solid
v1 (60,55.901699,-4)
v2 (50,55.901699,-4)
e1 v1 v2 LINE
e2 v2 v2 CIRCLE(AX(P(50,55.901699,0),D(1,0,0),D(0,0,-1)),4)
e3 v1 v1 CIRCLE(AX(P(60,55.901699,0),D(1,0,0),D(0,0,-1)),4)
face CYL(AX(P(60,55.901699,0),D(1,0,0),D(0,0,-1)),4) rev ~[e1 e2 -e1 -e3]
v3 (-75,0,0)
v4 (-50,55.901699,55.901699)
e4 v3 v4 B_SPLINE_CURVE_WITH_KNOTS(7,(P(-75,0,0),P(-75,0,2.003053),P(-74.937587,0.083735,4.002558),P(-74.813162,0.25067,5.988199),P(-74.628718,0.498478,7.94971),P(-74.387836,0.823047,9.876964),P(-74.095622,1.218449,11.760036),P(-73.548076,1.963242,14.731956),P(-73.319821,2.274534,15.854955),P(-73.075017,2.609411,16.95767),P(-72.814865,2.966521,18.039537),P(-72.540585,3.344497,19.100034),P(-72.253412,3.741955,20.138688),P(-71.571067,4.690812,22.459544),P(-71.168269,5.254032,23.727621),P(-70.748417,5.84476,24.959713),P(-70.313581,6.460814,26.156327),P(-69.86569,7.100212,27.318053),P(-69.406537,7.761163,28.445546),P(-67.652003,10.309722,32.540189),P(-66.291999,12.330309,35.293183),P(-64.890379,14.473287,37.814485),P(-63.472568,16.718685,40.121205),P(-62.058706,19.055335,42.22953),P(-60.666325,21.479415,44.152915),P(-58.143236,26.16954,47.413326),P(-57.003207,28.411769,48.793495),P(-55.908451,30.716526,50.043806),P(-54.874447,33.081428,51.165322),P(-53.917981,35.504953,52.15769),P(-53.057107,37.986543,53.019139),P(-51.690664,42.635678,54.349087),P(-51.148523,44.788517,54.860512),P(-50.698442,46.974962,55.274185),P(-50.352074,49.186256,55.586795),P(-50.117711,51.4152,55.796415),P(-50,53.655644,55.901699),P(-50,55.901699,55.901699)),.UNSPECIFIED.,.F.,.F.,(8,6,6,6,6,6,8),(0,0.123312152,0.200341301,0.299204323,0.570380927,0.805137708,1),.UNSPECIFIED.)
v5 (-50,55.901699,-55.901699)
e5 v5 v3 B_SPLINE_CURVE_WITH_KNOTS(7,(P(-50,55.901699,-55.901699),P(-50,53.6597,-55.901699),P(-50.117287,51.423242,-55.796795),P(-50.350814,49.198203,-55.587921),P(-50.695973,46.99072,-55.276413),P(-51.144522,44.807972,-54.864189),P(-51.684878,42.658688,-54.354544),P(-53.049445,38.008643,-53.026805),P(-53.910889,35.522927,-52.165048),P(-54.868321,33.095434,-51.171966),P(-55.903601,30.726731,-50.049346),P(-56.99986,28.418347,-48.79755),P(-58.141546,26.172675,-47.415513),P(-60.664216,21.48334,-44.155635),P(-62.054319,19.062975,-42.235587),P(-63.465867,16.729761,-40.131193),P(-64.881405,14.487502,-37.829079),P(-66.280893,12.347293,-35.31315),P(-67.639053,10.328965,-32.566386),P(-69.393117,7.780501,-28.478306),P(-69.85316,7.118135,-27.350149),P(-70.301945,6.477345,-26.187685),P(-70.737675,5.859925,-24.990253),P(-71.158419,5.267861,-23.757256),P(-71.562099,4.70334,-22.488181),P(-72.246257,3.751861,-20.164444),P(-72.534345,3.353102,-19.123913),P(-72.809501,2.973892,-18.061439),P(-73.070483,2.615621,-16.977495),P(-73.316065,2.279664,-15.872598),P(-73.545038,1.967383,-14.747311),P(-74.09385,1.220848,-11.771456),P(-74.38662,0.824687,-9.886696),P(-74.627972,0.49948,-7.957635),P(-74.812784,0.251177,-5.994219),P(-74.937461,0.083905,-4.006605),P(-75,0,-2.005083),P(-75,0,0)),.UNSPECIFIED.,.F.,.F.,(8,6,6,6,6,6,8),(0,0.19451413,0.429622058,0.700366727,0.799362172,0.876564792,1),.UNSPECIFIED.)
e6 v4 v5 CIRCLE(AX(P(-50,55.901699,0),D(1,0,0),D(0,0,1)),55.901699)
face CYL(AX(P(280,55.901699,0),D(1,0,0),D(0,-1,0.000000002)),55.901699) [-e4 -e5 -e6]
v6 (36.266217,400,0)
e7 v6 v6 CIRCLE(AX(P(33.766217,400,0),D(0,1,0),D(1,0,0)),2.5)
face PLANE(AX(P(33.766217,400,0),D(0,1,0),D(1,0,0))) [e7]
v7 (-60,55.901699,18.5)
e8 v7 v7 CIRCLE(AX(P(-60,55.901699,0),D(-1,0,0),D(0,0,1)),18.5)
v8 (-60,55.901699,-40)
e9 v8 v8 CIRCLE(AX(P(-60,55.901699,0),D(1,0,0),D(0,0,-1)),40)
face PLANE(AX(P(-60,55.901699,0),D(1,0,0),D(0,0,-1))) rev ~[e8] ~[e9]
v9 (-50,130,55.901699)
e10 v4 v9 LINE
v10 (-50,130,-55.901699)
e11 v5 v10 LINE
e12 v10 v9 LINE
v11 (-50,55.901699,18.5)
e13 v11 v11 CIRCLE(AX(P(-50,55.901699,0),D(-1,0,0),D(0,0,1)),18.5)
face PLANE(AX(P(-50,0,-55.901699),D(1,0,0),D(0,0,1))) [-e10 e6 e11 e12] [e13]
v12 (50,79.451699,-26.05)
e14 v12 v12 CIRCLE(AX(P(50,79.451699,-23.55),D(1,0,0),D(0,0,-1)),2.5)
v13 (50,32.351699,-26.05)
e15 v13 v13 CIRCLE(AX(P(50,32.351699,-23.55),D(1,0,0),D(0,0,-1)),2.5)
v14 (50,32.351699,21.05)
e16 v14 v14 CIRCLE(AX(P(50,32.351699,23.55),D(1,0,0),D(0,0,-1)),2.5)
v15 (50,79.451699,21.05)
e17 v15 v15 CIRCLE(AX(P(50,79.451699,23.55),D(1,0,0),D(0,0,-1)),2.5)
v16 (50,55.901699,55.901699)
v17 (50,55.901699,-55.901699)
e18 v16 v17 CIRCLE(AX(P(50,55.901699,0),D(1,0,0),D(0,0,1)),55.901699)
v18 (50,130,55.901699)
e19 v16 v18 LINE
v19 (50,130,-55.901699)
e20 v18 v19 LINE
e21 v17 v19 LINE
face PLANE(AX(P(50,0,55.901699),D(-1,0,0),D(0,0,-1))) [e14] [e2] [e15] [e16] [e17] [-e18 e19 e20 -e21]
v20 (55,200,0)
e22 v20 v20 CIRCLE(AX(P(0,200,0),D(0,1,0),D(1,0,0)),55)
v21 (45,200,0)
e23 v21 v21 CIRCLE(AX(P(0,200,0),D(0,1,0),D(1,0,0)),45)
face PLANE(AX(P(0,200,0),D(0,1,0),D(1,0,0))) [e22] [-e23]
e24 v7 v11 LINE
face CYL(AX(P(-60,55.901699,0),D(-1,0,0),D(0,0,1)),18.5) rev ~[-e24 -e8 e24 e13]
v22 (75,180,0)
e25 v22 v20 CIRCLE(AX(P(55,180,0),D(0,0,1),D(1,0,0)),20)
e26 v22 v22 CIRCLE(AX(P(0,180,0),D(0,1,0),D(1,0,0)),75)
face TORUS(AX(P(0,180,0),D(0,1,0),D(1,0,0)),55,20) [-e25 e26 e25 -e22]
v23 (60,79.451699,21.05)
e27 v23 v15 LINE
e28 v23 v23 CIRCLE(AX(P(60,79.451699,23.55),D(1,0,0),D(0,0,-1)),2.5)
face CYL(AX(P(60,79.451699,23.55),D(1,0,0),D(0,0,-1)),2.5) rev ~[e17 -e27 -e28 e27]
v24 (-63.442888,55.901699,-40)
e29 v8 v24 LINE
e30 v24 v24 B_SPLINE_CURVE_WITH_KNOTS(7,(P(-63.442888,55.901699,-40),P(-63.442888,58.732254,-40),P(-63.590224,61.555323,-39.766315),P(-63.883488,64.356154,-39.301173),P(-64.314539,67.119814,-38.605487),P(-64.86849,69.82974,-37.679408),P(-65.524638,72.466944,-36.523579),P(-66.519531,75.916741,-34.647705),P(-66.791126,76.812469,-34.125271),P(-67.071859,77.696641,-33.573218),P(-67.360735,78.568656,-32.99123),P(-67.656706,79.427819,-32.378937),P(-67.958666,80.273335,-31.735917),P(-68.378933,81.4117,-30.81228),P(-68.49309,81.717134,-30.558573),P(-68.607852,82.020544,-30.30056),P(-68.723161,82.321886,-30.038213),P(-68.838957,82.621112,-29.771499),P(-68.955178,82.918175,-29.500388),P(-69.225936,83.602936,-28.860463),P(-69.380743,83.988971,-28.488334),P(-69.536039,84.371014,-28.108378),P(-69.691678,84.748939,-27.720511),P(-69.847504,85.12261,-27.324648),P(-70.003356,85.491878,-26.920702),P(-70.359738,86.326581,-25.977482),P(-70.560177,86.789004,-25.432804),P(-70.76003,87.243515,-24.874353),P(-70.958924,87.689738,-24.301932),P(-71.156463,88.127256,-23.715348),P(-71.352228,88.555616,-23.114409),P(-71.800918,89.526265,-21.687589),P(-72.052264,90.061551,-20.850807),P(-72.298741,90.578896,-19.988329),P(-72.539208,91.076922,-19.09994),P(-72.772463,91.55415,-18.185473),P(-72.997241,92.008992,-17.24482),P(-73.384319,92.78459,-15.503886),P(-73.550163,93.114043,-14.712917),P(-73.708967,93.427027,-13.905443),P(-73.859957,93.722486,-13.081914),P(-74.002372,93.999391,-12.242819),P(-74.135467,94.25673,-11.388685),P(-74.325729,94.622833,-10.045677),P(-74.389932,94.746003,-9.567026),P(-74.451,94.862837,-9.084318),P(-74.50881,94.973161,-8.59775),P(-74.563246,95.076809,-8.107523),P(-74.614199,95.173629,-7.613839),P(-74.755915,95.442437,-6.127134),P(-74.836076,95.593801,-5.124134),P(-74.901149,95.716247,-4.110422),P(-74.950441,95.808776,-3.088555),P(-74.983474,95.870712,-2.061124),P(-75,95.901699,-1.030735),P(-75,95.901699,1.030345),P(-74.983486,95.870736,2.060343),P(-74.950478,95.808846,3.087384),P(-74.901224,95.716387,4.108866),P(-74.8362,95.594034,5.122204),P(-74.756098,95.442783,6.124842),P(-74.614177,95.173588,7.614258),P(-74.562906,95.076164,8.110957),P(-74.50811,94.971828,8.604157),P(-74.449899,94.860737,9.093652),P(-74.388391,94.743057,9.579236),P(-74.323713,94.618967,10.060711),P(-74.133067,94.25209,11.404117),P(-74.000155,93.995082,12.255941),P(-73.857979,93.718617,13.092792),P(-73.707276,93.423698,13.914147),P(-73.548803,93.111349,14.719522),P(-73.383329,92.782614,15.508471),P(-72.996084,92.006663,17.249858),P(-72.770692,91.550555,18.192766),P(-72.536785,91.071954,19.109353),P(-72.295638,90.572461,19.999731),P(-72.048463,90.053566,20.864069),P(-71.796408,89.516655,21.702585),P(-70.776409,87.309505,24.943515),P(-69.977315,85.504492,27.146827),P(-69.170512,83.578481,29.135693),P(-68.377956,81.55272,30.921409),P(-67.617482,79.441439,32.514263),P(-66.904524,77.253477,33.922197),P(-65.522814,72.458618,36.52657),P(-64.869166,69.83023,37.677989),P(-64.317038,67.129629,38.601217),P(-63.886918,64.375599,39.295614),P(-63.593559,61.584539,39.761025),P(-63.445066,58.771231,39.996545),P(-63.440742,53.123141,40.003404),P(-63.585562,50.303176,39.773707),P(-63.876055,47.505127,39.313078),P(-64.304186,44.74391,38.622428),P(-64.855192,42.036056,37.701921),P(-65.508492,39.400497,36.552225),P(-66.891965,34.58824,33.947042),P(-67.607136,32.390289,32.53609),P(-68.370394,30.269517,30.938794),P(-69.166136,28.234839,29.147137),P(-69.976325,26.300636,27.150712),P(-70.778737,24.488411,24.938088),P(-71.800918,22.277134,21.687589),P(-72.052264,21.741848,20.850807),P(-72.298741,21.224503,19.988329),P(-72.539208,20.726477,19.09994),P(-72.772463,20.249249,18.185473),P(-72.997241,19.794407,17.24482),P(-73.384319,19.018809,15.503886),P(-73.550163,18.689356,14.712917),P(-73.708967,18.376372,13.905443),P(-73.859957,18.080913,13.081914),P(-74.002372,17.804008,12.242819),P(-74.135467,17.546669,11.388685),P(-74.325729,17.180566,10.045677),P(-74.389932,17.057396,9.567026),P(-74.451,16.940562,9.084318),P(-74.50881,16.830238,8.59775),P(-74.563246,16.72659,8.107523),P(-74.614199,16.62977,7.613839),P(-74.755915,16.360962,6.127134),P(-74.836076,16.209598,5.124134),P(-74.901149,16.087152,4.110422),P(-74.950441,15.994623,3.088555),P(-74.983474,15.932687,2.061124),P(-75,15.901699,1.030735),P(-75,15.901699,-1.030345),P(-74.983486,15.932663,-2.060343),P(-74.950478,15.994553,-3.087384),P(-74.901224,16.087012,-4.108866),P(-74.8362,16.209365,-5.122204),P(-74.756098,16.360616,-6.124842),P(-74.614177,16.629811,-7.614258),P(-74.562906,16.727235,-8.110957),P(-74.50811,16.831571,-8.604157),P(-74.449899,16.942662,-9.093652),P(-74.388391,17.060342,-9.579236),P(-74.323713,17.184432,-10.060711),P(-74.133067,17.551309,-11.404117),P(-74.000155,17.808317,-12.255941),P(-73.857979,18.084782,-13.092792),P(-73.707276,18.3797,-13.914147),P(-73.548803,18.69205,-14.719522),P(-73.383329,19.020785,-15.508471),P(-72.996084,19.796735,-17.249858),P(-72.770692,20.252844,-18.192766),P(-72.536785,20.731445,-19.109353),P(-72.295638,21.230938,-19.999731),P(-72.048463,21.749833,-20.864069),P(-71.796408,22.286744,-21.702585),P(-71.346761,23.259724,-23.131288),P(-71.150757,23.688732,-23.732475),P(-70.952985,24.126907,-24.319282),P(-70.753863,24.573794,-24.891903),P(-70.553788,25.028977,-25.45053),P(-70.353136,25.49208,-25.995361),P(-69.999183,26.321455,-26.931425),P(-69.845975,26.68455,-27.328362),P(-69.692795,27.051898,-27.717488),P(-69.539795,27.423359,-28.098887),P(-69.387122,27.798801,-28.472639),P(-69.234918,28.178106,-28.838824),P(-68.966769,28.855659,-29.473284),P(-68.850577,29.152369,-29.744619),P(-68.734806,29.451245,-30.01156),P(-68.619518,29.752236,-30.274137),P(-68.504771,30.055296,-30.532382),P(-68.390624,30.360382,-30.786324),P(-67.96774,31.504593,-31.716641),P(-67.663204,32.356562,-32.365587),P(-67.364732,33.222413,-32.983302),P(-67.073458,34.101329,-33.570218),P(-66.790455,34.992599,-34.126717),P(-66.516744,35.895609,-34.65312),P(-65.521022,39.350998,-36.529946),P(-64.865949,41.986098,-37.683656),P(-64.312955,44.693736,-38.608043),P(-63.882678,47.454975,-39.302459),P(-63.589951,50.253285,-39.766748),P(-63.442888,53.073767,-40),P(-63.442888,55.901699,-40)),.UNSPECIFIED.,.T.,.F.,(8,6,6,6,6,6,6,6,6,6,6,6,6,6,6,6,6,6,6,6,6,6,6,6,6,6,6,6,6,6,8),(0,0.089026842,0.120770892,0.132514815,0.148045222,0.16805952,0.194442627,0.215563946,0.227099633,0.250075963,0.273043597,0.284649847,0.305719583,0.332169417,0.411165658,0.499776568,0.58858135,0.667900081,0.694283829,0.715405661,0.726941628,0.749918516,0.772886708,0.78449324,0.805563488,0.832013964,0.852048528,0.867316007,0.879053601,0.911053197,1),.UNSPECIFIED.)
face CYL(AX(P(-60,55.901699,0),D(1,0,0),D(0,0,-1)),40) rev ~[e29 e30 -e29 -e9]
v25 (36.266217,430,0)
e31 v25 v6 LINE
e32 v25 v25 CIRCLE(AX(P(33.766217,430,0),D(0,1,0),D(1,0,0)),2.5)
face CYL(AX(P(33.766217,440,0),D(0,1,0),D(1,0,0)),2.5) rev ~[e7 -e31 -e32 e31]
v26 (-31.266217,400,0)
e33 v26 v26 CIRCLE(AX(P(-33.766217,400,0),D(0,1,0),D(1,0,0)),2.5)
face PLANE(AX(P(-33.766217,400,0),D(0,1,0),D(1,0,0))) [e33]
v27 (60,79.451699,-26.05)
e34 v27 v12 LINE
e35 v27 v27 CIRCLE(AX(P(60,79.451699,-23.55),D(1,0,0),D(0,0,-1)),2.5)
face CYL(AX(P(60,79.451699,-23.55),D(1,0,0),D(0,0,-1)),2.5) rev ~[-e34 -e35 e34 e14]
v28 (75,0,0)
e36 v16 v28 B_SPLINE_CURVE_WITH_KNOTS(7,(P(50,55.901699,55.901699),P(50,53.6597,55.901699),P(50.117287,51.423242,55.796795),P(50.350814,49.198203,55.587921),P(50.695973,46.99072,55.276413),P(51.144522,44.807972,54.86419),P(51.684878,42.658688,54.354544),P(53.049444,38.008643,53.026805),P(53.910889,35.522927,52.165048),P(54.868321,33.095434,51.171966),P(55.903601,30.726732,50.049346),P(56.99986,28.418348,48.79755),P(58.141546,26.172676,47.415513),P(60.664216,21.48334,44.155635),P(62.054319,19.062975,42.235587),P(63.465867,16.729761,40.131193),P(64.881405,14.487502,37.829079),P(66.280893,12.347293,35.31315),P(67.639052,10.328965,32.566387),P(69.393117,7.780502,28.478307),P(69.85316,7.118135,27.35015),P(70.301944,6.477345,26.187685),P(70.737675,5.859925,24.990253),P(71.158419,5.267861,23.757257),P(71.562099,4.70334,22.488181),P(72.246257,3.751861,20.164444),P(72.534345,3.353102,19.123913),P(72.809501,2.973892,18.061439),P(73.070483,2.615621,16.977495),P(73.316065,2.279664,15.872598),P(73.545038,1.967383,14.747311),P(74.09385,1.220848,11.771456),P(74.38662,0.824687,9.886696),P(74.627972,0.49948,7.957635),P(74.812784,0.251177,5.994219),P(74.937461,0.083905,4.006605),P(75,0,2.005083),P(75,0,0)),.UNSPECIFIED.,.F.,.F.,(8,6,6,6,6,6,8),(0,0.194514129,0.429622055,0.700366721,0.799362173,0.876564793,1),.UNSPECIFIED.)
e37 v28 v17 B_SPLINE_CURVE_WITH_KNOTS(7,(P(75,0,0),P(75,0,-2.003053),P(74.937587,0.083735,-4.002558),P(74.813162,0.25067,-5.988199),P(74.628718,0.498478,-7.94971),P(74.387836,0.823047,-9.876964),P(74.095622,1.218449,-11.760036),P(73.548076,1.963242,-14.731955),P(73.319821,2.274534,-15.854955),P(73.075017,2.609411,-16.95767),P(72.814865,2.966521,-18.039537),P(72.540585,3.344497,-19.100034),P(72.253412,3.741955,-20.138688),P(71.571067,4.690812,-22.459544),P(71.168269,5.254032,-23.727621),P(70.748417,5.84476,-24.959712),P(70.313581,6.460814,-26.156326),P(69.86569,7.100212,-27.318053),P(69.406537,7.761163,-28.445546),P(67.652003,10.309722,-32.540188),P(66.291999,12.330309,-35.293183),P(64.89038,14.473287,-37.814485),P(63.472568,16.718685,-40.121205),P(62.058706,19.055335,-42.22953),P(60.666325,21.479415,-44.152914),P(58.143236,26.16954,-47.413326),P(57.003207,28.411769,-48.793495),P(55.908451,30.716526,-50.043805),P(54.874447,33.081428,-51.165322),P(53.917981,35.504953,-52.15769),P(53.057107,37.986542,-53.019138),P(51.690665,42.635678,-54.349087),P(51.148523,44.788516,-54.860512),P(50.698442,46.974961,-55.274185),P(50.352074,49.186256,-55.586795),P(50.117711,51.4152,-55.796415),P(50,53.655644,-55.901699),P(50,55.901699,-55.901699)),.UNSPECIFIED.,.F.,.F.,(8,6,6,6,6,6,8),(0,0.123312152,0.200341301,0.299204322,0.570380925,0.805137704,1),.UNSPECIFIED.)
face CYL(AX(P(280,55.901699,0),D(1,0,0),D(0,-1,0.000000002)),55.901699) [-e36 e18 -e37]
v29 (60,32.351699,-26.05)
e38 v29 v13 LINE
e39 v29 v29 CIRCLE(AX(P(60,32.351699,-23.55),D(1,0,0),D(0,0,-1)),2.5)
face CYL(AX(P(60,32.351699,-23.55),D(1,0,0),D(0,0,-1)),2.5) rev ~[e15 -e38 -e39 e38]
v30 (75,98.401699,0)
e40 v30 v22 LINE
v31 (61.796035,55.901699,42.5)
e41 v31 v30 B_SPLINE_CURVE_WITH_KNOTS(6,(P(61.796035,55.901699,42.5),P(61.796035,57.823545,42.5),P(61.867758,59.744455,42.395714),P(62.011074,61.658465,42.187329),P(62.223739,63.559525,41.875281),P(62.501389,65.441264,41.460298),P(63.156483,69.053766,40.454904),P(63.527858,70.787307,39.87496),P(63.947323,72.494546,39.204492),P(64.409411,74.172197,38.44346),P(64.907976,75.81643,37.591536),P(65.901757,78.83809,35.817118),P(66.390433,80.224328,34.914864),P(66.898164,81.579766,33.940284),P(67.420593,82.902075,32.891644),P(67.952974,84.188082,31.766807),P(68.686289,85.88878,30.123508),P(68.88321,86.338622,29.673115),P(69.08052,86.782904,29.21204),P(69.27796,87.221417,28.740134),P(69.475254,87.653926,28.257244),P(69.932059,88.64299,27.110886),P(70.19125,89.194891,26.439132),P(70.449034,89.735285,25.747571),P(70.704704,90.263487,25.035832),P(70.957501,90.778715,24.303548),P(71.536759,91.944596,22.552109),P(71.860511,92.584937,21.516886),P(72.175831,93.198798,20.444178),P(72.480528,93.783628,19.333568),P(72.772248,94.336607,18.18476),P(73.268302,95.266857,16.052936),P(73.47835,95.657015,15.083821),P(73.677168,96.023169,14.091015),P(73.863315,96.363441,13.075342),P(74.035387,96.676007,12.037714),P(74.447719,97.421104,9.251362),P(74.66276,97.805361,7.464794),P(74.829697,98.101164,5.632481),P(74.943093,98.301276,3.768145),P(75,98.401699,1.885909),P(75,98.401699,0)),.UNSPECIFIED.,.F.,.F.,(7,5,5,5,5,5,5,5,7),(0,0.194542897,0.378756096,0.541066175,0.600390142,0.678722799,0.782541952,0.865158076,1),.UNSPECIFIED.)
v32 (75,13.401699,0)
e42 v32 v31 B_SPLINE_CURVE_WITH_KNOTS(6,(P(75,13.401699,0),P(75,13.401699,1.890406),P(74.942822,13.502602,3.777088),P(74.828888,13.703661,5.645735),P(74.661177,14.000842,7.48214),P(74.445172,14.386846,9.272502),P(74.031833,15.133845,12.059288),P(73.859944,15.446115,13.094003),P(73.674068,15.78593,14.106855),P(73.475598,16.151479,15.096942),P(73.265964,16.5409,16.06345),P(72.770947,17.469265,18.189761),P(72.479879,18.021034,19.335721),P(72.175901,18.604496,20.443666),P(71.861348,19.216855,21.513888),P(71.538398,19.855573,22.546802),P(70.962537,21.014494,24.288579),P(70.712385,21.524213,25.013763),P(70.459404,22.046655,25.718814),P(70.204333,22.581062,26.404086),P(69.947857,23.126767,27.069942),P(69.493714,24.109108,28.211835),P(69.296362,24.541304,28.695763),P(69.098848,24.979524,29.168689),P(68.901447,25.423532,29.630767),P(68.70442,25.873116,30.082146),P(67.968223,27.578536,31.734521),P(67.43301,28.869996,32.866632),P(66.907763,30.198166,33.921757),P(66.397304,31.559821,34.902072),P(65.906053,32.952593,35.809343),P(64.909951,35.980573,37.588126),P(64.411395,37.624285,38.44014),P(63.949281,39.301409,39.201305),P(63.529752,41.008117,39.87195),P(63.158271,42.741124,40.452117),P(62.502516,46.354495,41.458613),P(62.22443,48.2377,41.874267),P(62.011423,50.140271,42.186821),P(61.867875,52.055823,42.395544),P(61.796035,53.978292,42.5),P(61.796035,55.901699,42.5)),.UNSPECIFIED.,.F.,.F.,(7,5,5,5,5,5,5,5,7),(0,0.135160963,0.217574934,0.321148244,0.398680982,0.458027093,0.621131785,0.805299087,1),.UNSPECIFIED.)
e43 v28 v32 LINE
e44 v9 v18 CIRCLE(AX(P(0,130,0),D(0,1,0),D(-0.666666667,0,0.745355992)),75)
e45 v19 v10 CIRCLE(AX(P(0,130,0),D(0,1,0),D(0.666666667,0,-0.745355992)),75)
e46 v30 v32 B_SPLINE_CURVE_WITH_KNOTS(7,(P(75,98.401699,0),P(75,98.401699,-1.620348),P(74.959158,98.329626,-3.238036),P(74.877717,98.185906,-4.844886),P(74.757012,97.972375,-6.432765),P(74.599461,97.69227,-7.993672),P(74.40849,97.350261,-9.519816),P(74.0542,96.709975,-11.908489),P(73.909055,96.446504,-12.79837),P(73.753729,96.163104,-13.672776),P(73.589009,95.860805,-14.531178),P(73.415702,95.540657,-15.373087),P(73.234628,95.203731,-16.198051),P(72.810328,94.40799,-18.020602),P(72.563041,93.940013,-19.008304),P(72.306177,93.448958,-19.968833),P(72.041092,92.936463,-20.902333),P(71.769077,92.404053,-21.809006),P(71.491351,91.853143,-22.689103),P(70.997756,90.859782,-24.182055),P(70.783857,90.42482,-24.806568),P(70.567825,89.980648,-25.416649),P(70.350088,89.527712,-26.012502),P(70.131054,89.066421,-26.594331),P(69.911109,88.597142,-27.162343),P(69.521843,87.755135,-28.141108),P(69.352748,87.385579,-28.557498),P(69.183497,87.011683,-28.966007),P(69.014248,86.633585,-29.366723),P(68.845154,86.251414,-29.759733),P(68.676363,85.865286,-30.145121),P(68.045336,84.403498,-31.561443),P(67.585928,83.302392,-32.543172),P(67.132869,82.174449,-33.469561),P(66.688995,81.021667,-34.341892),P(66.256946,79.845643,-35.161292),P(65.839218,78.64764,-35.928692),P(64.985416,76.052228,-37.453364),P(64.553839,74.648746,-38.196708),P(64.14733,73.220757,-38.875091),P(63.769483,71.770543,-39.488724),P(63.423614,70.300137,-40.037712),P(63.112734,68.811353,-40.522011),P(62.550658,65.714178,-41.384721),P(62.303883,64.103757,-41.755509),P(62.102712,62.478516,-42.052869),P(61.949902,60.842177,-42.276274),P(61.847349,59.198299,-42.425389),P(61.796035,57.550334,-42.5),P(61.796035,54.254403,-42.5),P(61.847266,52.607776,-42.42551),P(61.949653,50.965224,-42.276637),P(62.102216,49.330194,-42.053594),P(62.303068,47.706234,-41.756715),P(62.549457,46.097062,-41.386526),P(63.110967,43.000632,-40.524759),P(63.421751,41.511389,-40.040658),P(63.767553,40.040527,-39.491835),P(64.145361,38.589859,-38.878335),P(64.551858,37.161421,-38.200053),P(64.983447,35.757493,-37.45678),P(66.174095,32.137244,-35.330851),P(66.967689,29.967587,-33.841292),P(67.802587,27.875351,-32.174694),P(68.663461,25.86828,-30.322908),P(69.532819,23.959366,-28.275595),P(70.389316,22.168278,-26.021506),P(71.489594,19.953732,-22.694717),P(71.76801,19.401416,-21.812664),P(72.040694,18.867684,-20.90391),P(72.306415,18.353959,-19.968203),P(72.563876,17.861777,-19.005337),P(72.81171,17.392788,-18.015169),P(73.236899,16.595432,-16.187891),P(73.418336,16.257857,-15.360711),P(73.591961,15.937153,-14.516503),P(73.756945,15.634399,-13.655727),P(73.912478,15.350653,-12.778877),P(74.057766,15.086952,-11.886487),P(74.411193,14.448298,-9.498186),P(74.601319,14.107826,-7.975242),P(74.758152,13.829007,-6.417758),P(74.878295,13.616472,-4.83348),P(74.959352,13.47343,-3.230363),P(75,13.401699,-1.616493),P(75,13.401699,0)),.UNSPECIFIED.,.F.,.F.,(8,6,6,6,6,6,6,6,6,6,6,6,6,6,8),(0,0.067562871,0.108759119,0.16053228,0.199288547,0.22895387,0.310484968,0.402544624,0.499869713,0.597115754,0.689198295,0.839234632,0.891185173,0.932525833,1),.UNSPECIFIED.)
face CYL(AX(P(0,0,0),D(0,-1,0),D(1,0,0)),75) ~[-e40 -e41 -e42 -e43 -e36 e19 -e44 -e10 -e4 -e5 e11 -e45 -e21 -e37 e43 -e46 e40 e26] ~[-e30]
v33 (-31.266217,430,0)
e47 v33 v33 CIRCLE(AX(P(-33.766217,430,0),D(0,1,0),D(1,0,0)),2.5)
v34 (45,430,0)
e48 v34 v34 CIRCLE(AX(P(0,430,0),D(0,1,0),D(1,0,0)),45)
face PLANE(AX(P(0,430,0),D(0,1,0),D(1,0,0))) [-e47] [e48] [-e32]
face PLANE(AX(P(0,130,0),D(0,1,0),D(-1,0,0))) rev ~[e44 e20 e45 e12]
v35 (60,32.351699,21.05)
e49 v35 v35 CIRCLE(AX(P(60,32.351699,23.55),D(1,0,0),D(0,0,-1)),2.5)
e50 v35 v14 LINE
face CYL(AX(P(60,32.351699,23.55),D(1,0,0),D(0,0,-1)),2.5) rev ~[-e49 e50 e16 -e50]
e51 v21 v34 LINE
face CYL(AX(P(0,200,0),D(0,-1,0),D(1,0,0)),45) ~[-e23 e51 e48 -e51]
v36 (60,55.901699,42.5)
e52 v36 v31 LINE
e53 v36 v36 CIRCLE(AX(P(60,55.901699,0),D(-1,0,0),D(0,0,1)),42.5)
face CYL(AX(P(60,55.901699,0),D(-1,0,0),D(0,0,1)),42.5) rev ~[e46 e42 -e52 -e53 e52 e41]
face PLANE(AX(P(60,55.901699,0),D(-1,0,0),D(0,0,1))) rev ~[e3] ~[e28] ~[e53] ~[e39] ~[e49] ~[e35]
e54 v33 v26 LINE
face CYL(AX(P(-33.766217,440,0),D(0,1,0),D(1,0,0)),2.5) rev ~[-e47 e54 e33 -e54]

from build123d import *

# Parameters (mm, degrees)
SKETCH1_R               = 75
BOSS_EXTRUDE1_DEPTH     = 200
CUT_EXTRUDE1_DEPTH      = 130
SKETCH3_R               = 45
BOSS_EXTRUDE2_DEPTH     = 230
FILLET2_R               = 20
CUT_EXTRUDE2_DEPTH      = 230
CUT_EXTRUDE2_DEPTH_BACK = 230
CUT_EXTRUDE3_START      = -10
SKETCH5_R               = 42.5
CUT_EXTRUDE3_DEPTH      = 20
CUT_EXTRUDE4_START      = -10
SKETCH6_R               = 40
CUT_EXTRUDE4_DEPTH      = 20
SKETCH7_R               = 16
CUT_EXTRUDE5_DEPTH      = 20
SKETCH8_R               = 4
CUT_EXTRUDE6_DEPTH      = 20
SKETCH9_R               = 18.5
CUT_EXTRUDE7_DEPTH      = 40
SKETCH10_R              = 2.5
CUT_EXTRUDE8_DEPTH      = 40
SKETCH11_R              = 2.5
CUT_EXTRUDE9_DEPTH      = 40


with BuildPart() as part:
    # Sketch1 → Boss-Extrude1 (new body)
    with BuildSketch(Plane(origin=(0, 0, 0), x_dir=(1, 0, 0), z_dir=(0, 1, 0))):
        Circle(SKETCH1_R)
    extrude(amount=BOSS_EXTRUDE1_DEPTH)

    # Sketch2 → Cut-Extrude1 (cut)
    with BuildSketch(Plane.XZ):
        with BuildLine():
            Line((-50, -55.901699437), (-50, 55.901699437))
            ThreePointArc((-50, 55.901699437), (0, 75), (50, 55.901699437))
            Line((50, 55.901699437), (50, -55.901699437))
            ThreePointArc((50, -55.901699437), (0, -75), (-50, -55.901699437))
        make_face()
    extrude(amount=-CUT_EXTRUDE1_DEPTH, mode=Mode.SUBTRACT)

    # Sketch3 → Boss-Extrude2 (add)
    with BuildSketch(Plane(origin=(0, 200, 0), x_dir=(1, 0, 0), z_dir=(0, 1, 0))):
        Circle(SKETCH3_R)
    extrude(amount=BOSS_EXTRUDE2_DEPTH)

    # Fillet2
    fillet2_edges = [part.edges().sort_by_distance(p)[0] for p in [
        (-75, 200, 0),
    ]]
    fillet(fillet2_edges, radius=FILLET2_R)

    # Sketch4 → Cut-Extrude2 (cut, two sides: drawn at the far end of the back side and taken through both)
    with BuildSketch(Plane.ZY.offset(-50).offset(-CUT_EXTRUDE2_DEPTH_BACK)):
        with BuildLine():
            Line((-55.901699437, 55.901699437), (-55.901699437, 0))
            Line((-55.901699437, 0), (9.3e-08, 0))
            ThreePointArc((9.3e-08, 0), (-39.528470719, 16.373228653), (-55.901699437, 55.901699437))
        make_face()
        with BuildLine():
            ThreePointArc((55.901699437, 55.901699437), (39.528470785, 16.373228718), (9.3e-08, 0))
            Line((9.3e-08, 0), (55.901699437, 0))
            Line((55.901699437, 0), (55.901699437, 55.901699437))
        make_face()
    extrude(amount=CUT_EXTRUDE2_DEPTH + CUT_EXTRUDE2_DEPTH_BACK, mode=Mode.SUBTRACT)

    # Sketch5 → Cut-Extrude3 (cut)
    with BuildSketch(Plane.ZY.offset(-50).offset(CUT_EXTRUDE3_START)):
        with Locations((0, 55.901699437)):
            Circle(SKETCH5_R)
    extrude(amount=-CUT_EXTRUDE3_DEPTH, mode=Mode.SUBTRACT)

    # Sketch6 → Cut-Extrude4 (cut)
    with BuildSketch(Plane(origin=(-50, 0, 0), x_dir=(0, 0, -1), z_dir=(1, 0, 0)).offset(CUT_EXTRUDE4_START)):
        with Locations((0, 55.901699437)):
            Circle(SKETCH6_R)
    extrude(amount=-CUT_EXTRUDE4_DEPTH, mode=Mode.SUBTRACT)

    # Sketch7 → Cut-Extrude5 (cut)
    with BuildSketch(Plane.ZY.offset(60)):
        with Locations((0, 55.901699437)):
            Circle(SKETCH7_R)
    extrude(amount=-CUT_EXTRUDE5_DEPTH, mode=Mode.SUBTRACT)

    # Sketch8 → Cut-Extrude6 (cut)
    with BuildSketch(Plane(origin=(60, 0, 0), x_dir=(0, 0, -1), z_dir=(1, 0, 0))):
        with Locations((0, 55.901699438)):
            Circle(SKETCH8_R)
    extrude(amount=-CUT_EXTRUDE6_DEPTH, mode=Mode.SUBTRACT)

    # Sketch9 → Cut-Extrude7 (cut)
    with BuildSketch(Plane.ZY.offset(60)):
        with Locations((0, 55.901699438)):
            Circle(SKETCH9_R)
    extrude(amount=-CUT_EXTRUDE7_DEPTH, mode=Mode.SUBTRACT)

    # Sketch10 → Cut-Extrude8 (cut)
    with BuildSketch(Plane(origin=(60, 0, 0), x_dir=(0, 0, -1), z_dir=(1, 0, 0))):
        with Locations((-23.55, 32.351699437)):
            Circle(SKETCH10_R)
        with Locations((23.55, 32.351699437)):
            Circle(SKETCH10_R)
        with Locations((23.55, 79.451699437)):
            Circle(SKETCH10_R)
        with Locations((-23.55, 79.451699437)):
            Circle(SKETCH10_R)
    extrude(amount=-CUT_EXTRUDE8_DEPTH, mode=Mode.SUBTRACT)

    # Sketch11 → Cut-Extrude9 (cut)
    with BuildSketch(Plane(origin=(0, 440, 0), x_dir=(1, 0, 0), z_dir=(0, 1, 0))):
        with Locations((-33.766216589, 0)):
            Circle(SKETCH11_R)
        with Locations((33.766216589, 0)):
            Circle(SKETCH11_R)
    extrude(amount=-CUT_EXTRUDE9_DEPTH, mode=Mode.SUBTRACT)


solid = part.part
